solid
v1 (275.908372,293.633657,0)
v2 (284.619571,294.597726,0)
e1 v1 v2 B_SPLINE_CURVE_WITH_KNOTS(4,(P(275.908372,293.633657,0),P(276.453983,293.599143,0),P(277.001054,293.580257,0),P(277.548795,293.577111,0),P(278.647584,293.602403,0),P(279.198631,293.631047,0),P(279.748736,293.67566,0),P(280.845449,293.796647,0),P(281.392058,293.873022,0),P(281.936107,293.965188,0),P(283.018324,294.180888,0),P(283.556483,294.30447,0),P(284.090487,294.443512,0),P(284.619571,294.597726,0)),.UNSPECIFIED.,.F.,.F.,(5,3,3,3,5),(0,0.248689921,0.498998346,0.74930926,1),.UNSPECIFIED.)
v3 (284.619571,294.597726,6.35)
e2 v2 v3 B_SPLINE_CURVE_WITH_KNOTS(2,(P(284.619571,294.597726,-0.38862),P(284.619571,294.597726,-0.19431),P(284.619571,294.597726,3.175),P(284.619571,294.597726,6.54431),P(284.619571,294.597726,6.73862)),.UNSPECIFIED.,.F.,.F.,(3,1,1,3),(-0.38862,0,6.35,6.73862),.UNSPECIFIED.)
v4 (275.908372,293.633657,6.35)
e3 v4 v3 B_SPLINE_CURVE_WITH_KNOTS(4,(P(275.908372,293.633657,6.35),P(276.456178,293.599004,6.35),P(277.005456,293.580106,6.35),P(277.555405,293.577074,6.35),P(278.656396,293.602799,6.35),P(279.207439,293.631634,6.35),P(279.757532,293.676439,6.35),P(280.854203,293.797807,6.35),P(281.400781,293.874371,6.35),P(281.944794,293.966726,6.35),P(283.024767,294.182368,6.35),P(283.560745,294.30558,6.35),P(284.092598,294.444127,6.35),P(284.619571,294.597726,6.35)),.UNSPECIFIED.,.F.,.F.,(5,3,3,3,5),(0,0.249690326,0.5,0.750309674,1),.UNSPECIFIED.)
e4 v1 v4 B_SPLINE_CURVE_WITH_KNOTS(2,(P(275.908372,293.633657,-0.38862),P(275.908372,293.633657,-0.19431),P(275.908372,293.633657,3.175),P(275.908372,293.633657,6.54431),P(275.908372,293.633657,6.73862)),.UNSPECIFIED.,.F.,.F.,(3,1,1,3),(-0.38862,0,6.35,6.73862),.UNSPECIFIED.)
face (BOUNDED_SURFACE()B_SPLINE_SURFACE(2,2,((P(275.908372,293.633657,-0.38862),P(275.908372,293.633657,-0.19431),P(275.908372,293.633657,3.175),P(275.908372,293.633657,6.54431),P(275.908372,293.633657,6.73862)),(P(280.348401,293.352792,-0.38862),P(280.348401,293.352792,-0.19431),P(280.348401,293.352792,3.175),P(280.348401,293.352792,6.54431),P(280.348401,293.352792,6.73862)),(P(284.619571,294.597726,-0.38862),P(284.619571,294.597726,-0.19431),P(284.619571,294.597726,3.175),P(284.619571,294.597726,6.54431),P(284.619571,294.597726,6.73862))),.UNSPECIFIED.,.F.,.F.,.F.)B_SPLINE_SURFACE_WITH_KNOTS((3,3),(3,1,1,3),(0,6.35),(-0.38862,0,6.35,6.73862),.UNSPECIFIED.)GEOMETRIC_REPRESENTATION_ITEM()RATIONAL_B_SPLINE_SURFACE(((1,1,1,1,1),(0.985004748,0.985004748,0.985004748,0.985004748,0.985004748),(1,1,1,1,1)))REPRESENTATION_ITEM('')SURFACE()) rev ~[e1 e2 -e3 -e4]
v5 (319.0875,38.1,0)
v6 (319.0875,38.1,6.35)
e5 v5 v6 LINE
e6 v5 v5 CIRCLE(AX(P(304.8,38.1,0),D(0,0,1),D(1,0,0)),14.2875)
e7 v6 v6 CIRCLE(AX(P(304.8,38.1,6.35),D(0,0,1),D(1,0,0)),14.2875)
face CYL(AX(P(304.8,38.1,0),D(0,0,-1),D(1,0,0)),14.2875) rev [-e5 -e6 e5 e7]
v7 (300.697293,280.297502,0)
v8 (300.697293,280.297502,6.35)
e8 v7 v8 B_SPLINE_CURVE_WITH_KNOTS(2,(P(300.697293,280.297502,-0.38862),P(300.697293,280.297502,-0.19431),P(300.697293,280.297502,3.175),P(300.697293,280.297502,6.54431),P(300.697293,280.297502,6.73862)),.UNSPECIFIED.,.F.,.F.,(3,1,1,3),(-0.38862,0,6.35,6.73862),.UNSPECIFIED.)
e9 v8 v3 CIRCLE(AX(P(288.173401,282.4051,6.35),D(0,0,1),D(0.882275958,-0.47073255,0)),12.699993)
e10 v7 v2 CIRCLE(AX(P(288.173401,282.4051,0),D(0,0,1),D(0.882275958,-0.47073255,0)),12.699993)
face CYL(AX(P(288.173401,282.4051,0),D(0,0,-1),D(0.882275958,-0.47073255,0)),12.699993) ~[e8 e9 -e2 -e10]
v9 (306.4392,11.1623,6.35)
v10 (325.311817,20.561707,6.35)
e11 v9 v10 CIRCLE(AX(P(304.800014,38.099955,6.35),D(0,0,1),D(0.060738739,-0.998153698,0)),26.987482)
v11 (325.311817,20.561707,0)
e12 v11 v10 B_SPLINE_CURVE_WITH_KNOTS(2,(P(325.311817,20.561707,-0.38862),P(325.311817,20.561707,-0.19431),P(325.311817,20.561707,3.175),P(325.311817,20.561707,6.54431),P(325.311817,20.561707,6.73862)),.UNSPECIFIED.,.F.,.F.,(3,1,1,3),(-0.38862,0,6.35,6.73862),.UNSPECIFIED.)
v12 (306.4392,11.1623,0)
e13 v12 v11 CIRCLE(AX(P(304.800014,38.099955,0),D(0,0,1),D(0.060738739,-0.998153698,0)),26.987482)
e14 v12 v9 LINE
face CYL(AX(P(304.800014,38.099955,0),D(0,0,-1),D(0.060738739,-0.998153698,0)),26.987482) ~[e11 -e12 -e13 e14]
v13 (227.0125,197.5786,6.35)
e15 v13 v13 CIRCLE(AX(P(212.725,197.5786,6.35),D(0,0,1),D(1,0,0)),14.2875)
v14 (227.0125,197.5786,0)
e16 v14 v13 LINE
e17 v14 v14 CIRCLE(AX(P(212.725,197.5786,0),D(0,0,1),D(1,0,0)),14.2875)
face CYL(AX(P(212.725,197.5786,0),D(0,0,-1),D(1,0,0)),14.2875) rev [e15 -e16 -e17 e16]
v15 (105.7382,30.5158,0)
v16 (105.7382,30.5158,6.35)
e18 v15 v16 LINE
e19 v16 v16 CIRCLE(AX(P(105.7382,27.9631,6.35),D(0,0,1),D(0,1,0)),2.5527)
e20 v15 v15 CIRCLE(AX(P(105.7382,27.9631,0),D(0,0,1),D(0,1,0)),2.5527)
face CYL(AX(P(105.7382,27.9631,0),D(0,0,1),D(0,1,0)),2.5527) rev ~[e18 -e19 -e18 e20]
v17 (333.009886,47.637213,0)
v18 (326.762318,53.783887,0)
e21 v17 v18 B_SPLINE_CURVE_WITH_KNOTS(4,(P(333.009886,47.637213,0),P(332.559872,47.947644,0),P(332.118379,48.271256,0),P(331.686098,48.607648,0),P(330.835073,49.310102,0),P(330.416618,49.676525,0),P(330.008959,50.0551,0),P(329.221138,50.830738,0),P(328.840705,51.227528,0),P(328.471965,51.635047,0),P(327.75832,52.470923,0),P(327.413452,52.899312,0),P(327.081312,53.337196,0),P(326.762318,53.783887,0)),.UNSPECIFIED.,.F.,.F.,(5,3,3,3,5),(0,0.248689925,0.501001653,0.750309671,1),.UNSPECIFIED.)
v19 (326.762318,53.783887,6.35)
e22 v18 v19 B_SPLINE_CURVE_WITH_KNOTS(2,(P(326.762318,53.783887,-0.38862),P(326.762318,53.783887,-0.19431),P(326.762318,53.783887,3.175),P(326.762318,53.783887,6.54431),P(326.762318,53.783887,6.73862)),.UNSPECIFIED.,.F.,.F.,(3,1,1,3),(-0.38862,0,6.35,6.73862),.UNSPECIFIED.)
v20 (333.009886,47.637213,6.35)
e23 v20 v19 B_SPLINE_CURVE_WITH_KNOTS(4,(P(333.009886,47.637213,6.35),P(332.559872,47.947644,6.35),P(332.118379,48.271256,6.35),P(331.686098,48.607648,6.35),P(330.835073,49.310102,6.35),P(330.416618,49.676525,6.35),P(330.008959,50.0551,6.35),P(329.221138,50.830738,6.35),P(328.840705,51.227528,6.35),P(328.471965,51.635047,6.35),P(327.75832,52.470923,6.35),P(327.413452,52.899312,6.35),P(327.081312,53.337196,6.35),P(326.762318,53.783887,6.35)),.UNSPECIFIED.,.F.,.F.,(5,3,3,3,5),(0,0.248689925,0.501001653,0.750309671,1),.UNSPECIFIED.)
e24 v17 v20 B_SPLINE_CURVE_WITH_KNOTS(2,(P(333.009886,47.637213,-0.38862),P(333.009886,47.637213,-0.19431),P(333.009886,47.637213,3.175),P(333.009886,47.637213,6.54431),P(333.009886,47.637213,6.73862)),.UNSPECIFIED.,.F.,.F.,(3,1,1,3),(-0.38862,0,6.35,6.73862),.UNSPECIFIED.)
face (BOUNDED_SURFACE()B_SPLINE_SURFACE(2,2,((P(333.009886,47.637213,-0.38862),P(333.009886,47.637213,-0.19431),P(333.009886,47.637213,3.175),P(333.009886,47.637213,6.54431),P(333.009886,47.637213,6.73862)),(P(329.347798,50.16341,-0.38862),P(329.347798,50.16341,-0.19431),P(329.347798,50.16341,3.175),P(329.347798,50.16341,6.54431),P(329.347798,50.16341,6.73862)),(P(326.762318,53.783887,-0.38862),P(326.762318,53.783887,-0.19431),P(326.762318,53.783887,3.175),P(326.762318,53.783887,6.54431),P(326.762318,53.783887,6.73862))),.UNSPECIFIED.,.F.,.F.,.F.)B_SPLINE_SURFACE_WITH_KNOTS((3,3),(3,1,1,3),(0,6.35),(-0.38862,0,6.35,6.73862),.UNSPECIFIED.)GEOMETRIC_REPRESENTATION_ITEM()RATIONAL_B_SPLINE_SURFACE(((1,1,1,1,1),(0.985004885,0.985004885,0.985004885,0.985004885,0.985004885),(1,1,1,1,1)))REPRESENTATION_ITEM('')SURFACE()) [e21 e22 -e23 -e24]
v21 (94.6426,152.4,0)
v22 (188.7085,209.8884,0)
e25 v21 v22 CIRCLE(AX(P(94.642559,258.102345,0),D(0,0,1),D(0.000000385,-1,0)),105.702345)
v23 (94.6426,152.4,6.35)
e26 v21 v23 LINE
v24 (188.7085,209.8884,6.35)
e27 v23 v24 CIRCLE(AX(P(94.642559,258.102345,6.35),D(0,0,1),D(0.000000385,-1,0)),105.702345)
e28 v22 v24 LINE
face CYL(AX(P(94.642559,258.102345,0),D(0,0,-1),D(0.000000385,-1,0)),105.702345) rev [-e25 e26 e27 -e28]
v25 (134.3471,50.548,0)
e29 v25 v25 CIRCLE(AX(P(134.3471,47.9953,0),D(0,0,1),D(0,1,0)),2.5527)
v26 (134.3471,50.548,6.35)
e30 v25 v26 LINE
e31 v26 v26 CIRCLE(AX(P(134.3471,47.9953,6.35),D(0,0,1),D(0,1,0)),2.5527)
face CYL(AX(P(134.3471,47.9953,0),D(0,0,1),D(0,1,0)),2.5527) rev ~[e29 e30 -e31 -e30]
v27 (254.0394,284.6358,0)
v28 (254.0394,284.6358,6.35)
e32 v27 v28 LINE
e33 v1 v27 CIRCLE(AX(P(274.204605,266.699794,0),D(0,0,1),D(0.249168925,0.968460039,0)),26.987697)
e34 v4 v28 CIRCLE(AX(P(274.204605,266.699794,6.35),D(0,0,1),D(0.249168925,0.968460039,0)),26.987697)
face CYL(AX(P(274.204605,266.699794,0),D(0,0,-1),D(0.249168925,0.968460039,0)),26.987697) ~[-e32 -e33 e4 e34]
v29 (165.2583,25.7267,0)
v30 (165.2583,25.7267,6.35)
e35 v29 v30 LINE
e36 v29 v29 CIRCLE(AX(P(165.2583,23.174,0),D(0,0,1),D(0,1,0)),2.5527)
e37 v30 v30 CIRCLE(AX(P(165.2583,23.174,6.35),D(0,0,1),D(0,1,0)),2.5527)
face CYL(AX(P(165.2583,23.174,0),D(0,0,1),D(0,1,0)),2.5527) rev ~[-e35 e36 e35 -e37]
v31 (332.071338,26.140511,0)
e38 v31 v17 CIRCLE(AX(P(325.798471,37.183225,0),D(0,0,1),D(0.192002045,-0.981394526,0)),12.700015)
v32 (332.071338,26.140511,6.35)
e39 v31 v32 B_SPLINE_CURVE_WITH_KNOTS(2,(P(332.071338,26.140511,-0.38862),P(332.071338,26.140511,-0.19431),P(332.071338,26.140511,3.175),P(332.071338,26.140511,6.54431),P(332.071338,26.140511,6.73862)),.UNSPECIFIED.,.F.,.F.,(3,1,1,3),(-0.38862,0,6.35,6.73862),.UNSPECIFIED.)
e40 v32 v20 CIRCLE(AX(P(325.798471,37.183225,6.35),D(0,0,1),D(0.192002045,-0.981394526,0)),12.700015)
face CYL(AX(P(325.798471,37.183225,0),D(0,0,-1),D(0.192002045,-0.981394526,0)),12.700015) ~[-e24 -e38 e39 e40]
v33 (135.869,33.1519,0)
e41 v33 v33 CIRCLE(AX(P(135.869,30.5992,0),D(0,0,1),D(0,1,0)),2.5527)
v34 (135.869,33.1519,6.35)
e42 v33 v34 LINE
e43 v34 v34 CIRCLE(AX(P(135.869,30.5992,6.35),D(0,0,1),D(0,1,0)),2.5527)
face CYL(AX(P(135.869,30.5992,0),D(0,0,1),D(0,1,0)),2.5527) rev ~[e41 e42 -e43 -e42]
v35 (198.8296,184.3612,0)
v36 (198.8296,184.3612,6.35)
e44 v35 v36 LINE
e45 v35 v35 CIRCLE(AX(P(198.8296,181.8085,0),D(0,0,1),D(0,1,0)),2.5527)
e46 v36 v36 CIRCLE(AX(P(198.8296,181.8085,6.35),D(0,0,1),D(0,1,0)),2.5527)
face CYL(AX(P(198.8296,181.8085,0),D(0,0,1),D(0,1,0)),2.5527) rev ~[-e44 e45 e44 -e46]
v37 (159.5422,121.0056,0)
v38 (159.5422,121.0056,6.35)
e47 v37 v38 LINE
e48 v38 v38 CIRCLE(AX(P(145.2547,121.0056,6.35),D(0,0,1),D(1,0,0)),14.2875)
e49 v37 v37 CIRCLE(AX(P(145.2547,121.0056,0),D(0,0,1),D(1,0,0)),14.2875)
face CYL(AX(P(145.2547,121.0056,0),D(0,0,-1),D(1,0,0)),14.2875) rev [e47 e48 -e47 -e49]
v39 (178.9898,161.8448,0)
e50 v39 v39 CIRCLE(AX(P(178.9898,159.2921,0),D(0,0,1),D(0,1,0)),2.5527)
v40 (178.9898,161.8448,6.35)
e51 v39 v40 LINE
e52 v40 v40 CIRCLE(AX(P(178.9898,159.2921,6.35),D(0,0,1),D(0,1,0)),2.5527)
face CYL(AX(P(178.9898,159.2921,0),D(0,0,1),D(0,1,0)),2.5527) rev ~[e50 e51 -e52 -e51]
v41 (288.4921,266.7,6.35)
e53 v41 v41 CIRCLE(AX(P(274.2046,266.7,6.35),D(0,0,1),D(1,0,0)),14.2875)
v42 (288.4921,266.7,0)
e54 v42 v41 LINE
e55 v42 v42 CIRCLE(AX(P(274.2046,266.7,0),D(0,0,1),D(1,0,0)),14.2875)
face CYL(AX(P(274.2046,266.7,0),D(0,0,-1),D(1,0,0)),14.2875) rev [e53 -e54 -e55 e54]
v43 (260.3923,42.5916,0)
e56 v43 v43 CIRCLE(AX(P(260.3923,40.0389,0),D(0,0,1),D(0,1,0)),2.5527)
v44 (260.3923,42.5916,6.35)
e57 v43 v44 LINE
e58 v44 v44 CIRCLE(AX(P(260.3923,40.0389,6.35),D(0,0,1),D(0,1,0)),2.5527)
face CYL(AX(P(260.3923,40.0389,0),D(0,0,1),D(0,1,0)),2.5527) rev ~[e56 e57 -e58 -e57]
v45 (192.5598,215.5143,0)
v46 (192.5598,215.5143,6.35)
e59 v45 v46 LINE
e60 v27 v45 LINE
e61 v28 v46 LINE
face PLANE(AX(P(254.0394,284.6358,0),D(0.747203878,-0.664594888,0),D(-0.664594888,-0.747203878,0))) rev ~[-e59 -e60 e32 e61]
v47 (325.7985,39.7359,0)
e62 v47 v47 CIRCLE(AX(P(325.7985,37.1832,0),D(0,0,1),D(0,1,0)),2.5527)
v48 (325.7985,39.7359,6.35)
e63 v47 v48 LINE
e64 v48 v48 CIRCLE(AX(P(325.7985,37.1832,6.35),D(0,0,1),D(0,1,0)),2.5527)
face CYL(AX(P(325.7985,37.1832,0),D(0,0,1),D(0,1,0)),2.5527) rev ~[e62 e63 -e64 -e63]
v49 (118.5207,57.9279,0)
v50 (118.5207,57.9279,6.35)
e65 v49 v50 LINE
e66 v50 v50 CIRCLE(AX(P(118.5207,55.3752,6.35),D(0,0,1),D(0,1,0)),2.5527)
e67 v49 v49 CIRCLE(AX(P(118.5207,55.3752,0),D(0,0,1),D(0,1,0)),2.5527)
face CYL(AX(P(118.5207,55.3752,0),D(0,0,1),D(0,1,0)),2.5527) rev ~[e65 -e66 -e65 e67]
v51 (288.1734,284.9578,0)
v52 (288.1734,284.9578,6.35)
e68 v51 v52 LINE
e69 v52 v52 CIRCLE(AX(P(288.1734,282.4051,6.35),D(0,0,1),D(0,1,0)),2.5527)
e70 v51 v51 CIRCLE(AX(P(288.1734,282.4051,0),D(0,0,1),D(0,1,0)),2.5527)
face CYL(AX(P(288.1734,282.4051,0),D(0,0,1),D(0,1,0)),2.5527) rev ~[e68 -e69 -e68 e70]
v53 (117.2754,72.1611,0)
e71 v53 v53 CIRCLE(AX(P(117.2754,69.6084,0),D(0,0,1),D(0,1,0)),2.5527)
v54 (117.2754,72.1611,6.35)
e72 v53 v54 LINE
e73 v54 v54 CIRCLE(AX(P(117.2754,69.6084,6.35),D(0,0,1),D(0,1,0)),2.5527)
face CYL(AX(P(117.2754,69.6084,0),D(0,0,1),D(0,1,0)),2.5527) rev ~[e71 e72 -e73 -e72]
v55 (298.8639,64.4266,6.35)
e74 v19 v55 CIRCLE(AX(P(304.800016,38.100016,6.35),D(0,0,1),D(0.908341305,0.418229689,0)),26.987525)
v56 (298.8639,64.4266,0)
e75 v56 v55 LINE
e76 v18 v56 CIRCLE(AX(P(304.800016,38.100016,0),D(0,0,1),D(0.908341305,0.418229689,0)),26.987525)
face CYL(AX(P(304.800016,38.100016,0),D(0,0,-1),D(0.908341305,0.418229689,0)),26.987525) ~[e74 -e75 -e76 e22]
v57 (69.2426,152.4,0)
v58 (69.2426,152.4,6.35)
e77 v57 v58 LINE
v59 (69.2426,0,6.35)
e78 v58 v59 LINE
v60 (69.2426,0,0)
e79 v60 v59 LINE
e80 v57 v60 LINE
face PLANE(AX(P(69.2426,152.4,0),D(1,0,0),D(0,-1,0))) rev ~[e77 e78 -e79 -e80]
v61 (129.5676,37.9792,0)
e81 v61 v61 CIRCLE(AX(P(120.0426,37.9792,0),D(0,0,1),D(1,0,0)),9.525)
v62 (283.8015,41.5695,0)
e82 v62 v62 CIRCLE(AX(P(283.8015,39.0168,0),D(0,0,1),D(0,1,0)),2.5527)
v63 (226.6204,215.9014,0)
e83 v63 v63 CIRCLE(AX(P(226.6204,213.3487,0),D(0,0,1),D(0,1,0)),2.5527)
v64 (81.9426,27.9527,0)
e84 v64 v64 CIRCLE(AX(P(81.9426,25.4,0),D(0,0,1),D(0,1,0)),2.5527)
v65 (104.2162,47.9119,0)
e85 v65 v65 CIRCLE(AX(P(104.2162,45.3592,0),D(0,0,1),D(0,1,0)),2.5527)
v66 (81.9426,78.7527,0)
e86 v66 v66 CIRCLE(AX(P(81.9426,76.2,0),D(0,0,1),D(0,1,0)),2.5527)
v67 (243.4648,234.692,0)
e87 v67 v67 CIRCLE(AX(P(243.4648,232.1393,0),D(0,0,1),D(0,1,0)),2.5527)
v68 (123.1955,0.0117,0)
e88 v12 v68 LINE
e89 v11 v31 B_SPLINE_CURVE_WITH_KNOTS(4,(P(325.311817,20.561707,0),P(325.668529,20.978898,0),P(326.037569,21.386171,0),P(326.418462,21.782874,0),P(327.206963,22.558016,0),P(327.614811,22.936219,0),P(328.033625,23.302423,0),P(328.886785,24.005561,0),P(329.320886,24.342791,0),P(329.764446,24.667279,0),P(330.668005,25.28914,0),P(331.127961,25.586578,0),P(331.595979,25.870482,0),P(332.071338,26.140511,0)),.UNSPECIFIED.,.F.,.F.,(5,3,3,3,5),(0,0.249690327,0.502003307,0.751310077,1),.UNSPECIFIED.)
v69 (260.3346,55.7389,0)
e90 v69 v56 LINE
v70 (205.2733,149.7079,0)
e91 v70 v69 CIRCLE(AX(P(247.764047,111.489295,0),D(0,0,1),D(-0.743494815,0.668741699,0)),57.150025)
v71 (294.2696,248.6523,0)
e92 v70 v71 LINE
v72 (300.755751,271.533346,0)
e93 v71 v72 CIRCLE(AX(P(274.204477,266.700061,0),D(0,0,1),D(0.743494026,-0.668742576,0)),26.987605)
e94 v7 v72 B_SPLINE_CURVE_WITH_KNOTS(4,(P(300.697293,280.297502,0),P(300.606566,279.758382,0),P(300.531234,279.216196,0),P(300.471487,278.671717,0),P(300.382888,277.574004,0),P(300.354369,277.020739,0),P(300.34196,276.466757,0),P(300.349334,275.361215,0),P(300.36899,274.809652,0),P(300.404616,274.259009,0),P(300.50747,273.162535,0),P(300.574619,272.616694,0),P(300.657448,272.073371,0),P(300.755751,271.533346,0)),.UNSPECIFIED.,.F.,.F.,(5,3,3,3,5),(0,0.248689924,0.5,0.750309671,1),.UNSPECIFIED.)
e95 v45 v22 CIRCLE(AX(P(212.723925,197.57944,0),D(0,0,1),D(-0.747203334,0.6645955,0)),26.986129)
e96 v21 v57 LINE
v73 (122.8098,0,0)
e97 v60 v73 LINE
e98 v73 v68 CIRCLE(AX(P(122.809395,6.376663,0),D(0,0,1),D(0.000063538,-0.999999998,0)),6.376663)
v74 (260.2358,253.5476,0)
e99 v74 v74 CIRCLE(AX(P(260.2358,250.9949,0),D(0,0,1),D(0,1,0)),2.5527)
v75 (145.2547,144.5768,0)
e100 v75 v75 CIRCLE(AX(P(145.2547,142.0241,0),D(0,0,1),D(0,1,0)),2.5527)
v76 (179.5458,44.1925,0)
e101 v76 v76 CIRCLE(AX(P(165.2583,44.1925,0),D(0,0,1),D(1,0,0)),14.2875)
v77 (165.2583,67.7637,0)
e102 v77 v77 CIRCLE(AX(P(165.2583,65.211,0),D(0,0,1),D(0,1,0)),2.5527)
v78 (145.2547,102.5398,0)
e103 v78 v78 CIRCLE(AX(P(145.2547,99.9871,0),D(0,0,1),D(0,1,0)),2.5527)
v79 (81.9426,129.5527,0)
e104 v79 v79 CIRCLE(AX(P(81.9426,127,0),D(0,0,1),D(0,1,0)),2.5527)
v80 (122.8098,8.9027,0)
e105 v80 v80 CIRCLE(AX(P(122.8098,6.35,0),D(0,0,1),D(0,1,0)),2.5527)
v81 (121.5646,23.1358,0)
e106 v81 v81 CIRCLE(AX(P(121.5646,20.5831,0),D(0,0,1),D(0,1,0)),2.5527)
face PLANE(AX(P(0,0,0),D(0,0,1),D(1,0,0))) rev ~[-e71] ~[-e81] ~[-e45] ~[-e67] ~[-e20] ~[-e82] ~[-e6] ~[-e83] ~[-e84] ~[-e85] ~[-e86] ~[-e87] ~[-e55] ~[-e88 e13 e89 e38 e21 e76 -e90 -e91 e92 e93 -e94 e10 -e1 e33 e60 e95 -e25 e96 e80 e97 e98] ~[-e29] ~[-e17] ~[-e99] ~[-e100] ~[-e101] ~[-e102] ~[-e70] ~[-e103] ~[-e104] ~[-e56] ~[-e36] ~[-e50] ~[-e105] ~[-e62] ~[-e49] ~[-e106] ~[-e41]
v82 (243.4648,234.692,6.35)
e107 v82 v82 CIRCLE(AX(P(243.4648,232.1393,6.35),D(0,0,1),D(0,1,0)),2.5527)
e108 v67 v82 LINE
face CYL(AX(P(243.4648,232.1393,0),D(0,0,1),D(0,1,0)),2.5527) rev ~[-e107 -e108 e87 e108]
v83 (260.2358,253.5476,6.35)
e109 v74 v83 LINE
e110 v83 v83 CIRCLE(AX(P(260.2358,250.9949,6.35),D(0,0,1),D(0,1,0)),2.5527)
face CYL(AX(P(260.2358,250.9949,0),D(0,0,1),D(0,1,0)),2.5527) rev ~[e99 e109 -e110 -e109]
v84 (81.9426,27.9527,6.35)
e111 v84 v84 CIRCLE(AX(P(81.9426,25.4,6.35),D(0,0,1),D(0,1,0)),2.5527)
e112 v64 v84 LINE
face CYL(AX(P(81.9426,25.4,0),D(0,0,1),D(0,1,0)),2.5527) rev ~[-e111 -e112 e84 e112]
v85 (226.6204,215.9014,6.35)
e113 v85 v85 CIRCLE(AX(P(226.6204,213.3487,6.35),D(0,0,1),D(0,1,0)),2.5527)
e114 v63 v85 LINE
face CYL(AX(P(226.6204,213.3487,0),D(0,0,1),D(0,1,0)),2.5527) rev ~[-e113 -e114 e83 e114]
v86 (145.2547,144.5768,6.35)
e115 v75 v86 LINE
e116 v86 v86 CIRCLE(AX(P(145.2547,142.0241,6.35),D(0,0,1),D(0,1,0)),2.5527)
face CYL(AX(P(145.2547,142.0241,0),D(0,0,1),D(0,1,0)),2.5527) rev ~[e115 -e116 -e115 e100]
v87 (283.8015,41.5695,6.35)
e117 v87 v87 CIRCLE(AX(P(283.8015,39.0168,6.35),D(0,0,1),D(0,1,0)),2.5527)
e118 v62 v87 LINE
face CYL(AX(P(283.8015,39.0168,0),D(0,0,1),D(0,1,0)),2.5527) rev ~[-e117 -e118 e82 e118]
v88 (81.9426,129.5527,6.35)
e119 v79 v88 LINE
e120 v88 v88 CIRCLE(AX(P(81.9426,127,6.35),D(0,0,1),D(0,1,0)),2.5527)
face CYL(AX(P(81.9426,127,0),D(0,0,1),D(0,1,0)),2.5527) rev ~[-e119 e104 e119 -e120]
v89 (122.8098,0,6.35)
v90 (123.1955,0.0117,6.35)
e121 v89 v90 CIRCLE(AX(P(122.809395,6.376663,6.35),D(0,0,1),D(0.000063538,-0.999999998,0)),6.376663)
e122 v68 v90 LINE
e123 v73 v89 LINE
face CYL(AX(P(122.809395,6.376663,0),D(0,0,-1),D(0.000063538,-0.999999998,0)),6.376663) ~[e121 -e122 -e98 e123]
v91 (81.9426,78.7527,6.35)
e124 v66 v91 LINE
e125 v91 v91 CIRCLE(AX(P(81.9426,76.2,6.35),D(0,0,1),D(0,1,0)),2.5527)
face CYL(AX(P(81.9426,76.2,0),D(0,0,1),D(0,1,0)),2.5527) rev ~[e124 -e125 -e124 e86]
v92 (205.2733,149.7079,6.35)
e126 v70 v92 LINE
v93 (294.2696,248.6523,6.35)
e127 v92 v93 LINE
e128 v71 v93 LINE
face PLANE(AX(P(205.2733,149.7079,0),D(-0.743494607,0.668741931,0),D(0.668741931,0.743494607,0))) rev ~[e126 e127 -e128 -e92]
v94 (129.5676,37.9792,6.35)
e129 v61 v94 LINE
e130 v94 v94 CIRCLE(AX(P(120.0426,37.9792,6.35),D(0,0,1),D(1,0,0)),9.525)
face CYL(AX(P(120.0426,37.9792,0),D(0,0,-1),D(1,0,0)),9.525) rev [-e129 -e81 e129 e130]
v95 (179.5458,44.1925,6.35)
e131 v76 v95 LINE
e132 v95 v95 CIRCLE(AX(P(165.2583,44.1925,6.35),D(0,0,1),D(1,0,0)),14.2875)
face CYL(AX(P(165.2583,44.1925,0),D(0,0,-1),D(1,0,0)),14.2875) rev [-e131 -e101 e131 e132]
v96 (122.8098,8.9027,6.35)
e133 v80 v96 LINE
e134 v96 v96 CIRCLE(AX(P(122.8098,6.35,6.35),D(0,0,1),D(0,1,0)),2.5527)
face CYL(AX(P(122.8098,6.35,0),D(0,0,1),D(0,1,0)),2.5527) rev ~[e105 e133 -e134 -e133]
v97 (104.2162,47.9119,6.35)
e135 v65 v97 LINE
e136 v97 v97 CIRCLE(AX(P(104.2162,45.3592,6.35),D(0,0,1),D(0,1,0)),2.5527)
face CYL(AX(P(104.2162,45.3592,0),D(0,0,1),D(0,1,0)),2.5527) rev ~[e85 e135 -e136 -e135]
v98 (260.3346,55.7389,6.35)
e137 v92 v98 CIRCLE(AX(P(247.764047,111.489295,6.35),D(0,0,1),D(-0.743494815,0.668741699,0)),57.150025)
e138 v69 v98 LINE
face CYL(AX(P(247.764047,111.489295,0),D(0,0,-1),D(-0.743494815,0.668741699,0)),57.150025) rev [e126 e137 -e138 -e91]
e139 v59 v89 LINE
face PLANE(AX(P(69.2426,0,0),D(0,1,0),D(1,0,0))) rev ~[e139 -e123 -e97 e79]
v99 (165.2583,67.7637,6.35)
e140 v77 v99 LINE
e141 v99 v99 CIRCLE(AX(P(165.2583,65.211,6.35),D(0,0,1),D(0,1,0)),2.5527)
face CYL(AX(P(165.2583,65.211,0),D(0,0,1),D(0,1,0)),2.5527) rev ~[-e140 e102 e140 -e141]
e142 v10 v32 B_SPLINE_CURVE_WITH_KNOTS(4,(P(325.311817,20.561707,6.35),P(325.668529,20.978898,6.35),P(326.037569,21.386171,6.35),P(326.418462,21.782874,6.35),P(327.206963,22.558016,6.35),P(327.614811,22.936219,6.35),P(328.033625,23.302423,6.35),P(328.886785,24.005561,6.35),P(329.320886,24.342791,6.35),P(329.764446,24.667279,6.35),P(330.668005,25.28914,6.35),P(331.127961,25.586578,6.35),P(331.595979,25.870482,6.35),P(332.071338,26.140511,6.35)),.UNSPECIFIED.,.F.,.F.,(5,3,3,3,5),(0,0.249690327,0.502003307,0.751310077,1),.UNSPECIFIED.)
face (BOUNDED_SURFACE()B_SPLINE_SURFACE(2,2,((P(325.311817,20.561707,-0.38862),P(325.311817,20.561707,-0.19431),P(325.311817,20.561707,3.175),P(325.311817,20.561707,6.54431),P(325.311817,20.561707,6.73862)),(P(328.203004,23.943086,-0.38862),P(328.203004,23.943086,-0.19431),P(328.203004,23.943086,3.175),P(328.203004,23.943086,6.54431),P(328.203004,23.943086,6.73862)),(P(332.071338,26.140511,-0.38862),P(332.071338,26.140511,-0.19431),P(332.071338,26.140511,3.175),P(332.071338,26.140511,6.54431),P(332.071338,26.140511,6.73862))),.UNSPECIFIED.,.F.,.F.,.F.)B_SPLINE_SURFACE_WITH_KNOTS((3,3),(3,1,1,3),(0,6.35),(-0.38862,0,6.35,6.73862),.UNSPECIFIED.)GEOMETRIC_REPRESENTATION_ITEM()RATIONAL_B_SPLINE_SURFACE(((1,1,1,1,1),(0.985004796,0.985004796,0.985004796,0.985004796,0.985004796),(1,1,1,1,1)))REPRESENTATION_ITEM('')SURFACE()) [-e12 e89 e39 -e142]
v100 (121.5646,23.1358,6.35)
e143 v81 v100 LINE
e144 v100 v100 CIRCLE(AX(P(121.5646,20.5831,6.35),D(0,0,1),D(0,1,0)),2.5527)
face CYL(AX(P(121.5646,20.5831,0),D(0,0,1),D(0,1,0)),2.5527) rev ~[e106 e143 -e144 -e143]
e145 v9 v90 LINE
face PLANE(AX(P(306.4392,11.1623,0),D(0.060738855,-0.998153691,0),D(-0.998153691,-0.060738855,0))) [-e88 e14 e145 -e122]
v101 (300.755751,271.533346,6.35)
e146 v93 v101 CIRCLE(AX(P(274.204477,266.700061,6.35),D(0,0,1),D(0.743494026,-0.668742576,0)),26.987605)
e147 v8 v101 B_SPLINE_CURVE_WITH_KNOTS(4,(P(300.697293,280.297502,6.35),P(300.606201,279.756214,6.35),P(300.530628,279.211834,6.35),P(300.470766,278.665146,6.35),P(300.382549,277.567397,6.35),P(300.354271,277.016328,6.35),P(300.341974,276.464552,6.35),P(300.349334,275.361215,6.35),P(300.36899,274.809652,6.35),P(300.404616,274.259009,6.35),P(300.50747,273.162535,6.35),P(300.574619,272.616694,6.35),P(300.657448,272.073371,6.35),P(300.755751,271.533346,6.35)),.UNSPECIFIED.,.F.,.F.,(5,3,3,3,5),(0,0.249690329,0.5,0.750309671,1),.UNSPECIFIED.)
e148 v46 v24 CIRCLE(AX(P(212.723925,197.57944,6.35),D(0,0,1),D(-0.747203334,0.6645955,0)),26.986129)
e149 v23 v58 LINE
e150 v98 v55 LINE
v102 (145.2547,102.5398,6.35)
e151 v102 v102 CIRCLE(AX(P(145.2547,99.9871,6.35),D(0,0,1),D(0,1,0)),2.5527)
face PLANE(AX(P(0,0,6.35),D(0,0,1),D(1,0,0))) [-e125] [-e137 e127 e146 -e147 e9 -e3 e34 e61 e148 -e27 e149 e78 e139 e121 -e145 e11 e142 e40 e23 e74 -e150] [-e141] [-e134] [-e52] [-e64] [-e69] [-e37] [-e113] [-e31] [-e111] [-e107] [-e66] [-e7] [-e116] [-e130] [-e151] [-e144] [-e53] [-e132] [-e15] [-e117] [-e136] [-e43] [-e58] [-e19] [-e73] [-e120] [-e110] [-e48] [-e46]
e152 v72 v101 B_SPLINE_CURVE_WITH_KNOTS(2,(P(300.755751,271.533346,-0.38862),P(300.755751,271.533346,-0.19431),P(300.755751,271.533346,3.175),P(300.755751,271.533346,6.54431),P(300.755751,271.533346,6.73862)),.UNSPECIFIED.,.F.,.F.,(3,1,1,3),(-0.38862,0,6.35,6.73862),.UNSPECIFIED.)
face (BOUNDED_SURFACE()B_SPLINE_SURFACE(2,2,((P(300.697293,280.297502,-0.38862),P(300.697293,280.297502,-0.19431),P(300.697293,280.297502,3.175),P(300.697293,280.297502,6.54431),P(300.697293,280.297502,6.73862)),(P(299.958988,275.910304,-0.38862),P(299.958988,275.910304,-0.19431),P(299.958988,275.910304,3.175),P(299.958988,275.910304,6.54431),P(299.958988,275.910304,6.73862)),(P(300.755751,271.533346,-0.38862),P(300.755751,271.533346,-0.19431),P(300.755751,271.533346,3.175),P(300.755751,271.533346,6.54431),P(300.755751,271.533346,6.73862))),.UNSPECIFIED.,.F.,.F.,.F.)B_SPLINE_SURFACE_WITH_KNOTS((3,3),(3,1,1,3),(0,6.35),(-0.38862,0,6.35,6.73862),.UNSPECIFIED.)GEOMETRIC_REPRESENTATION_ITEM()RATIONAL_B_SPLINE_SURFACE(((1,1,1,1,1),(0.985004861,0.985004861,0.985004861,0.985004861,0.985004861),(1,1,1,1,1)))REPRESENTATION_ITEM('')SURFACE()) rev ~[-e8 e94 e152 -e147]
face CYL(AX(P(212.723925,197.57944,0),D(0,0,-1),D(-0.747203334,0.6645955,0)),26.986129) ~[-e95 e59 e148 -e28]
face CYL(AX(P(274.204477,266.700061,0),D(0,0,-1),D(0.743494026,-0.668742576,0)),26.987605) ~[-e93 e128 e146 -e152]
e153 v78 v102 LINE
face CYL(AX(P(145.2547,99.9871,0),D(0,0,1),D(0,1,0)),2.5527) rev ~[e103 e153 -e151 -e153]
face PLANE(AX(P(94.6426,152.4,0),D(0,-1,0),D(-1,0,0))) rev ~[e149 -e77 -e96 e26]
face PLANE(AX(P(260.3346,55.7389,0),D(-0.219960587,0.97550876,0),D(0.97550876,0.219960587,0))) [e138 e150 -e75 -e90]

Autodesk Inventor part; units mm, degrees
ref_plane "YZ Plane" through (0, 0, 0) normal (1, 0, 0) x (0, 1, 0)
ref_plane "XZ Plane" through (0, 0, 0) normal (0, 1, 0) x (-1, 0, 0)
ref_plane "XY Plane" through (0, 0, 0) normal (0, 0, 1) x (1, 0, 0)
sketch "Sketch1" plane through (0, 0, 0) normal (0, 0, 1) x (1, 0, 0)
  line L0 (0, 0) -> (704.681, 0) construction
  line L1 (704.681, 0) -> (704.681, 101.6) construction
  line L2 (704.681, 101.6) -> (0, 101.6) construction
  circle A0 centre (304.8, 38.1) radius 38.1 construction
  circle A1 centre (212.725, 197.5786) radius 38.1 construction
  circle A2 centre (274.2046, 266.7) radius 38.1 construction
  circle A3 centre (499.5893, 180.5177) radius 203.2 construction
  line L3 (78.3329, 304.8) -> (550.894, 304.8) construction
  circle A4 centre (247.764, 111.4893) radius 57.15 construction
  circle A5 centre (258.7625, 117.8393) radius 53.975 construction
  line L4 (212.725, 197.5786) -> (304.8, 38.1) construction
  line L5 (258.7625, 117.8393) -> (247.764, 111.4893) construction
  line L6 (274.2046, 266.7) -> (212.725, 197.5786) construction
  dimension "d0" = 101.6
  dimension "d2" = 76.2
  dimension "d3" = 76.2
  dimension "d4" = 76.2
  dimension "d8" = 406.4
  dimension "d9" = 304.8
  dimension "d11" = 304.8
  dimension "d13" = 114.3
  dimension "d14" = 107.95
  dimension "d15" = 12.7
  dimension "d16" = 92.5068
  dimension "d17" = 60
sketch "Sketch4" plane through (0, 0, 0) normal (0, 0, 1) x (1, 0, 0)
  circle A0 centre (274.2046, 266.7) radius 38.1 construction
  circle A1 centre (212.725, 197.5786) radius 38.1 construction
  circle A2 centre (247.764, 111.4893) radius 57.15 construction
  circle A3 centre (304.8, 38.1) radius 38.1 construction
  circle A4 centre (274.2046, 266.7) radius 14.2875
  circle A5 centre (212.725, 197.5786) radius 14.2875
  circle A6 centre (304.8, 38.1) radius 14.2875
  circle A7 centre (145.2547, 121.0056) radius 39.6875 construction
  circle A8 centre (165.2583, 44.1925) radius 39.6875 construction
  circle A9 centre (145.2547, 121.0056) radius 14.2875
  circle A10 centre (165.2583, 44.1925) radius 14.2875
  line L0 (304.8, 38.1) -> (165.2583, 44.1925) construction
  line L1 (145.2547, 121.0056) -> (212.725, 197.5786) construction
  circle A11 centre (165.2583, 44.1925) radius 23.876 construction
  circle A12 centre (145.2547, 121.0056) radius 23.876 construction
  line L2 (128.9029, 138.4033) -> (202.94, 207.9895) construction
  line L3 (164.5725, 106.974) -> (224.2849, 189.182) construction
  line L4 (165.8568, 20.324) -> (305.1581, 23.817) construction
  line L5 (306.4016, 52.2974) -> (167.9348, 67.918) construction
  circle A13 centre (120.0426, 37.9792) radius 5.9531 construction
  circle A14 centre (120.0426, 37.9792) radius 25.4 construction
  circle A15 centre (117.2754, 69.6084) radius 6.35 construction
  circle A16 centre (122.8098, 6.35) radius 6.35 construction
  line L6 (117.2754, 69.6084) -> (122.8098, 6.35) construction
  line L7 (0, 0) -> (304.8, 0) construction
  line L8 (69.2426, 0) -> (94.6426, 0) construction
  line L9 (94.6426, 0) -> (94.6426, 152.4) construction
  line L10 (94.6426, 152.4) -> (69.2426, 152.4)
  line L11 (69.2426, 152.4) -> (69.2426, 0)
  line L12 (81.9426, 127) -> (81.9426, 25.4) construction
  line L13 (283.8015, 39.0168) -> (325.7985, 37.1832) construction
  line L14 (260.2358, 250.9949) -> (288.1734, 282.4051) construction
  line L15 (145.2547, 99.9871) -> (145.2547, 142.0241) construction
  line L16 (165.2583, 23.174) -> (165.2583, 65.211) construction
  line L17 (226.6204, 213.3487) -> (198.8296, 181.8085) construction
  circle A17 centre (304.8, 38.1) radius 26.9875 construction
  circle A18 centre (325.7985, 37.1832) radius 12.7 construction
  circle A19 centre (288.1734, 282.4051) radius 12.7 construction
  line L18 (274.2046, 266.7) -> (212.725, 197.5786) construction
  circle A20 centre (274.2046, 266.7) radius 26.9875 construction
  circle A21 centre (212.725, 197.5786) radius 26.9875 construction
  arc A22 (94.6426, 152.4) -> (188.7085, 209.8884) centre (94.6426, 258.1022) ccw
  line L19 (254.0394, 284.6358) -> (192.5598, 215.5143)
  arc A23 (280.9291, 292.8363) -> (254.0394, 284.6358) centre (274.2046, 266.7) ccw
  arc A24 (299.3783, 276.4268) -> (280.9291, 292.8363) centre (288.1734, 282.4051) ccw
  line L20 (205.2733, 149.7079) -> (294.2696, 248.6523)
  arc A25 (205.2733, 149.7079) -> (260.3346, 55.7389) centre (247.764, 111.4893) ccw
  line L21 (260.3346, 55.7389) -> (298.8639, 64.4266)
  arc A26 (294.2696, 248.6523) -> (299.3783, 276.4268) centre (274.2046, 266.7) ccw
  arc A27 (192.5598, 215.5143) -> (188.7085, 209.8884) centre (212.725, 197.5786) ccw
  arc A28 (329.3139, 49.387) -> (298.8639, 64.4266) centre (304.8, 38.1) ccw
  arc A29 (328.2369, 24.7195) -> (329.3139, 49.387) centre (325.7985, 37.1832) ccw
  line L22 (306.4392, 11.1623) -> (123.1955, 0.0117)
  line L23 (69.2426, 0) -> (122.8098, 0)
  arc A30 (122.8098, 0) -> (123.1955, 0.0117) centre (122.8098, 6.35) ccw
  arc A31 (306.4392, 11.1623) -> (328.2369, 24.7195) centre (304.8, 38.1) ccw
  circle A32 centre (120.0426, 37.9792) radius 9.525
  circle A33 centre (120.0426, 37.9792) radius 17.4625 construction
  circle A34 centre (260.3923, 40.0389) radius 6.35 construction
  point P0 (81.9426, 76.2)
  point P1 (94.6426, 76.2)
  point P2 (81.9426, 152.4)
  point P3 (243.4648, 232.1393)
  point P4 (118.5207, 55.3752)
  point P5 (178.9898, 159.2921)
  point P6 (104.2162, 45.3592)
  point P7 (105.7382, 27.9631)
  point P8 (121.5646, 20.5831)
  point P9 (135.869, 30.5992)
  point P10 (134.3471, 47.9953)
  dimension "d81" = 34.925
  dimension "d63" = 28.575
  dimension "d64" = 79.375
  dimension "d65" = 47.752
  dimension "d66" = 139.6746
  dimension "d67" = 102.0572
  dimension "d68" = 11.9062
  dimension "d69" = 50.8
  dimension "d70" = 12.7
  dimension "d71" = 2.5
  dimension "d72" = 85
  dimension "d73" = 25.4
  dimension "d74" = 152.4
  dimension "d75" = 101.6
  dimension "d76" = 42.037
  dimension "d77" = 12.7
  dimension "d79" = 25.4
  dimension "d80" = 19.05
  dimension "d92" = 12.7
  dimension "d95" = 360
extrude "Extrusion2" add sketch "Sketch4" along normal blind 6.35
hole "Hole2" at (117.2754, 69.6084, 0) at (122.8098, 6.35, 0) at (81.9426, 127, 0) at (81.9426, 76.2, 0) at (81.9426, 25.4, 0) at (283.8015, 39.0168, 0) at (325.7985, 37.1832, 0) at (260.2358, 250.9949, 0) at (288.1734, 282.4051, 0) at (145.2547, 142.0241, 0) at (145.2547, 99.9871, 0) at (165.2583, 65.211, 0) at (165.2583, 23.174, 0) at (198.8296, 181.8085, 0) at (226.6204, 213.3487, 0) at (243.4648, 232.1393, 0) at (118.5207, 55.3752, 0) at (260.3923, 40.0389, 0) at (178.9898, 159.2921, 0) at (134.3471, 47.9953, 0) at (135.869, 30.5992, 0) at (121.5646, 20.5831, 0) at (105.7382, 27.9631, 0) at (104.2162, 45.3592, 0) direction (0, 0, 1) diameter 5.1054 end through all clearance for "Flat Head Machine Screw (82)" size "#10" standard "Ansi Unified Screw Threads"
fillet "Fillet2" radius 25.4 4 edges at (299.3783, 276.4268, 3.175) (280.9291, 292.8363, 3.175) (329.3139, 49.387, 3.175) (328.2369, 24.7195, 3.175)
properties part number "GP8-001" material "Polycarbonate, Smoke"
